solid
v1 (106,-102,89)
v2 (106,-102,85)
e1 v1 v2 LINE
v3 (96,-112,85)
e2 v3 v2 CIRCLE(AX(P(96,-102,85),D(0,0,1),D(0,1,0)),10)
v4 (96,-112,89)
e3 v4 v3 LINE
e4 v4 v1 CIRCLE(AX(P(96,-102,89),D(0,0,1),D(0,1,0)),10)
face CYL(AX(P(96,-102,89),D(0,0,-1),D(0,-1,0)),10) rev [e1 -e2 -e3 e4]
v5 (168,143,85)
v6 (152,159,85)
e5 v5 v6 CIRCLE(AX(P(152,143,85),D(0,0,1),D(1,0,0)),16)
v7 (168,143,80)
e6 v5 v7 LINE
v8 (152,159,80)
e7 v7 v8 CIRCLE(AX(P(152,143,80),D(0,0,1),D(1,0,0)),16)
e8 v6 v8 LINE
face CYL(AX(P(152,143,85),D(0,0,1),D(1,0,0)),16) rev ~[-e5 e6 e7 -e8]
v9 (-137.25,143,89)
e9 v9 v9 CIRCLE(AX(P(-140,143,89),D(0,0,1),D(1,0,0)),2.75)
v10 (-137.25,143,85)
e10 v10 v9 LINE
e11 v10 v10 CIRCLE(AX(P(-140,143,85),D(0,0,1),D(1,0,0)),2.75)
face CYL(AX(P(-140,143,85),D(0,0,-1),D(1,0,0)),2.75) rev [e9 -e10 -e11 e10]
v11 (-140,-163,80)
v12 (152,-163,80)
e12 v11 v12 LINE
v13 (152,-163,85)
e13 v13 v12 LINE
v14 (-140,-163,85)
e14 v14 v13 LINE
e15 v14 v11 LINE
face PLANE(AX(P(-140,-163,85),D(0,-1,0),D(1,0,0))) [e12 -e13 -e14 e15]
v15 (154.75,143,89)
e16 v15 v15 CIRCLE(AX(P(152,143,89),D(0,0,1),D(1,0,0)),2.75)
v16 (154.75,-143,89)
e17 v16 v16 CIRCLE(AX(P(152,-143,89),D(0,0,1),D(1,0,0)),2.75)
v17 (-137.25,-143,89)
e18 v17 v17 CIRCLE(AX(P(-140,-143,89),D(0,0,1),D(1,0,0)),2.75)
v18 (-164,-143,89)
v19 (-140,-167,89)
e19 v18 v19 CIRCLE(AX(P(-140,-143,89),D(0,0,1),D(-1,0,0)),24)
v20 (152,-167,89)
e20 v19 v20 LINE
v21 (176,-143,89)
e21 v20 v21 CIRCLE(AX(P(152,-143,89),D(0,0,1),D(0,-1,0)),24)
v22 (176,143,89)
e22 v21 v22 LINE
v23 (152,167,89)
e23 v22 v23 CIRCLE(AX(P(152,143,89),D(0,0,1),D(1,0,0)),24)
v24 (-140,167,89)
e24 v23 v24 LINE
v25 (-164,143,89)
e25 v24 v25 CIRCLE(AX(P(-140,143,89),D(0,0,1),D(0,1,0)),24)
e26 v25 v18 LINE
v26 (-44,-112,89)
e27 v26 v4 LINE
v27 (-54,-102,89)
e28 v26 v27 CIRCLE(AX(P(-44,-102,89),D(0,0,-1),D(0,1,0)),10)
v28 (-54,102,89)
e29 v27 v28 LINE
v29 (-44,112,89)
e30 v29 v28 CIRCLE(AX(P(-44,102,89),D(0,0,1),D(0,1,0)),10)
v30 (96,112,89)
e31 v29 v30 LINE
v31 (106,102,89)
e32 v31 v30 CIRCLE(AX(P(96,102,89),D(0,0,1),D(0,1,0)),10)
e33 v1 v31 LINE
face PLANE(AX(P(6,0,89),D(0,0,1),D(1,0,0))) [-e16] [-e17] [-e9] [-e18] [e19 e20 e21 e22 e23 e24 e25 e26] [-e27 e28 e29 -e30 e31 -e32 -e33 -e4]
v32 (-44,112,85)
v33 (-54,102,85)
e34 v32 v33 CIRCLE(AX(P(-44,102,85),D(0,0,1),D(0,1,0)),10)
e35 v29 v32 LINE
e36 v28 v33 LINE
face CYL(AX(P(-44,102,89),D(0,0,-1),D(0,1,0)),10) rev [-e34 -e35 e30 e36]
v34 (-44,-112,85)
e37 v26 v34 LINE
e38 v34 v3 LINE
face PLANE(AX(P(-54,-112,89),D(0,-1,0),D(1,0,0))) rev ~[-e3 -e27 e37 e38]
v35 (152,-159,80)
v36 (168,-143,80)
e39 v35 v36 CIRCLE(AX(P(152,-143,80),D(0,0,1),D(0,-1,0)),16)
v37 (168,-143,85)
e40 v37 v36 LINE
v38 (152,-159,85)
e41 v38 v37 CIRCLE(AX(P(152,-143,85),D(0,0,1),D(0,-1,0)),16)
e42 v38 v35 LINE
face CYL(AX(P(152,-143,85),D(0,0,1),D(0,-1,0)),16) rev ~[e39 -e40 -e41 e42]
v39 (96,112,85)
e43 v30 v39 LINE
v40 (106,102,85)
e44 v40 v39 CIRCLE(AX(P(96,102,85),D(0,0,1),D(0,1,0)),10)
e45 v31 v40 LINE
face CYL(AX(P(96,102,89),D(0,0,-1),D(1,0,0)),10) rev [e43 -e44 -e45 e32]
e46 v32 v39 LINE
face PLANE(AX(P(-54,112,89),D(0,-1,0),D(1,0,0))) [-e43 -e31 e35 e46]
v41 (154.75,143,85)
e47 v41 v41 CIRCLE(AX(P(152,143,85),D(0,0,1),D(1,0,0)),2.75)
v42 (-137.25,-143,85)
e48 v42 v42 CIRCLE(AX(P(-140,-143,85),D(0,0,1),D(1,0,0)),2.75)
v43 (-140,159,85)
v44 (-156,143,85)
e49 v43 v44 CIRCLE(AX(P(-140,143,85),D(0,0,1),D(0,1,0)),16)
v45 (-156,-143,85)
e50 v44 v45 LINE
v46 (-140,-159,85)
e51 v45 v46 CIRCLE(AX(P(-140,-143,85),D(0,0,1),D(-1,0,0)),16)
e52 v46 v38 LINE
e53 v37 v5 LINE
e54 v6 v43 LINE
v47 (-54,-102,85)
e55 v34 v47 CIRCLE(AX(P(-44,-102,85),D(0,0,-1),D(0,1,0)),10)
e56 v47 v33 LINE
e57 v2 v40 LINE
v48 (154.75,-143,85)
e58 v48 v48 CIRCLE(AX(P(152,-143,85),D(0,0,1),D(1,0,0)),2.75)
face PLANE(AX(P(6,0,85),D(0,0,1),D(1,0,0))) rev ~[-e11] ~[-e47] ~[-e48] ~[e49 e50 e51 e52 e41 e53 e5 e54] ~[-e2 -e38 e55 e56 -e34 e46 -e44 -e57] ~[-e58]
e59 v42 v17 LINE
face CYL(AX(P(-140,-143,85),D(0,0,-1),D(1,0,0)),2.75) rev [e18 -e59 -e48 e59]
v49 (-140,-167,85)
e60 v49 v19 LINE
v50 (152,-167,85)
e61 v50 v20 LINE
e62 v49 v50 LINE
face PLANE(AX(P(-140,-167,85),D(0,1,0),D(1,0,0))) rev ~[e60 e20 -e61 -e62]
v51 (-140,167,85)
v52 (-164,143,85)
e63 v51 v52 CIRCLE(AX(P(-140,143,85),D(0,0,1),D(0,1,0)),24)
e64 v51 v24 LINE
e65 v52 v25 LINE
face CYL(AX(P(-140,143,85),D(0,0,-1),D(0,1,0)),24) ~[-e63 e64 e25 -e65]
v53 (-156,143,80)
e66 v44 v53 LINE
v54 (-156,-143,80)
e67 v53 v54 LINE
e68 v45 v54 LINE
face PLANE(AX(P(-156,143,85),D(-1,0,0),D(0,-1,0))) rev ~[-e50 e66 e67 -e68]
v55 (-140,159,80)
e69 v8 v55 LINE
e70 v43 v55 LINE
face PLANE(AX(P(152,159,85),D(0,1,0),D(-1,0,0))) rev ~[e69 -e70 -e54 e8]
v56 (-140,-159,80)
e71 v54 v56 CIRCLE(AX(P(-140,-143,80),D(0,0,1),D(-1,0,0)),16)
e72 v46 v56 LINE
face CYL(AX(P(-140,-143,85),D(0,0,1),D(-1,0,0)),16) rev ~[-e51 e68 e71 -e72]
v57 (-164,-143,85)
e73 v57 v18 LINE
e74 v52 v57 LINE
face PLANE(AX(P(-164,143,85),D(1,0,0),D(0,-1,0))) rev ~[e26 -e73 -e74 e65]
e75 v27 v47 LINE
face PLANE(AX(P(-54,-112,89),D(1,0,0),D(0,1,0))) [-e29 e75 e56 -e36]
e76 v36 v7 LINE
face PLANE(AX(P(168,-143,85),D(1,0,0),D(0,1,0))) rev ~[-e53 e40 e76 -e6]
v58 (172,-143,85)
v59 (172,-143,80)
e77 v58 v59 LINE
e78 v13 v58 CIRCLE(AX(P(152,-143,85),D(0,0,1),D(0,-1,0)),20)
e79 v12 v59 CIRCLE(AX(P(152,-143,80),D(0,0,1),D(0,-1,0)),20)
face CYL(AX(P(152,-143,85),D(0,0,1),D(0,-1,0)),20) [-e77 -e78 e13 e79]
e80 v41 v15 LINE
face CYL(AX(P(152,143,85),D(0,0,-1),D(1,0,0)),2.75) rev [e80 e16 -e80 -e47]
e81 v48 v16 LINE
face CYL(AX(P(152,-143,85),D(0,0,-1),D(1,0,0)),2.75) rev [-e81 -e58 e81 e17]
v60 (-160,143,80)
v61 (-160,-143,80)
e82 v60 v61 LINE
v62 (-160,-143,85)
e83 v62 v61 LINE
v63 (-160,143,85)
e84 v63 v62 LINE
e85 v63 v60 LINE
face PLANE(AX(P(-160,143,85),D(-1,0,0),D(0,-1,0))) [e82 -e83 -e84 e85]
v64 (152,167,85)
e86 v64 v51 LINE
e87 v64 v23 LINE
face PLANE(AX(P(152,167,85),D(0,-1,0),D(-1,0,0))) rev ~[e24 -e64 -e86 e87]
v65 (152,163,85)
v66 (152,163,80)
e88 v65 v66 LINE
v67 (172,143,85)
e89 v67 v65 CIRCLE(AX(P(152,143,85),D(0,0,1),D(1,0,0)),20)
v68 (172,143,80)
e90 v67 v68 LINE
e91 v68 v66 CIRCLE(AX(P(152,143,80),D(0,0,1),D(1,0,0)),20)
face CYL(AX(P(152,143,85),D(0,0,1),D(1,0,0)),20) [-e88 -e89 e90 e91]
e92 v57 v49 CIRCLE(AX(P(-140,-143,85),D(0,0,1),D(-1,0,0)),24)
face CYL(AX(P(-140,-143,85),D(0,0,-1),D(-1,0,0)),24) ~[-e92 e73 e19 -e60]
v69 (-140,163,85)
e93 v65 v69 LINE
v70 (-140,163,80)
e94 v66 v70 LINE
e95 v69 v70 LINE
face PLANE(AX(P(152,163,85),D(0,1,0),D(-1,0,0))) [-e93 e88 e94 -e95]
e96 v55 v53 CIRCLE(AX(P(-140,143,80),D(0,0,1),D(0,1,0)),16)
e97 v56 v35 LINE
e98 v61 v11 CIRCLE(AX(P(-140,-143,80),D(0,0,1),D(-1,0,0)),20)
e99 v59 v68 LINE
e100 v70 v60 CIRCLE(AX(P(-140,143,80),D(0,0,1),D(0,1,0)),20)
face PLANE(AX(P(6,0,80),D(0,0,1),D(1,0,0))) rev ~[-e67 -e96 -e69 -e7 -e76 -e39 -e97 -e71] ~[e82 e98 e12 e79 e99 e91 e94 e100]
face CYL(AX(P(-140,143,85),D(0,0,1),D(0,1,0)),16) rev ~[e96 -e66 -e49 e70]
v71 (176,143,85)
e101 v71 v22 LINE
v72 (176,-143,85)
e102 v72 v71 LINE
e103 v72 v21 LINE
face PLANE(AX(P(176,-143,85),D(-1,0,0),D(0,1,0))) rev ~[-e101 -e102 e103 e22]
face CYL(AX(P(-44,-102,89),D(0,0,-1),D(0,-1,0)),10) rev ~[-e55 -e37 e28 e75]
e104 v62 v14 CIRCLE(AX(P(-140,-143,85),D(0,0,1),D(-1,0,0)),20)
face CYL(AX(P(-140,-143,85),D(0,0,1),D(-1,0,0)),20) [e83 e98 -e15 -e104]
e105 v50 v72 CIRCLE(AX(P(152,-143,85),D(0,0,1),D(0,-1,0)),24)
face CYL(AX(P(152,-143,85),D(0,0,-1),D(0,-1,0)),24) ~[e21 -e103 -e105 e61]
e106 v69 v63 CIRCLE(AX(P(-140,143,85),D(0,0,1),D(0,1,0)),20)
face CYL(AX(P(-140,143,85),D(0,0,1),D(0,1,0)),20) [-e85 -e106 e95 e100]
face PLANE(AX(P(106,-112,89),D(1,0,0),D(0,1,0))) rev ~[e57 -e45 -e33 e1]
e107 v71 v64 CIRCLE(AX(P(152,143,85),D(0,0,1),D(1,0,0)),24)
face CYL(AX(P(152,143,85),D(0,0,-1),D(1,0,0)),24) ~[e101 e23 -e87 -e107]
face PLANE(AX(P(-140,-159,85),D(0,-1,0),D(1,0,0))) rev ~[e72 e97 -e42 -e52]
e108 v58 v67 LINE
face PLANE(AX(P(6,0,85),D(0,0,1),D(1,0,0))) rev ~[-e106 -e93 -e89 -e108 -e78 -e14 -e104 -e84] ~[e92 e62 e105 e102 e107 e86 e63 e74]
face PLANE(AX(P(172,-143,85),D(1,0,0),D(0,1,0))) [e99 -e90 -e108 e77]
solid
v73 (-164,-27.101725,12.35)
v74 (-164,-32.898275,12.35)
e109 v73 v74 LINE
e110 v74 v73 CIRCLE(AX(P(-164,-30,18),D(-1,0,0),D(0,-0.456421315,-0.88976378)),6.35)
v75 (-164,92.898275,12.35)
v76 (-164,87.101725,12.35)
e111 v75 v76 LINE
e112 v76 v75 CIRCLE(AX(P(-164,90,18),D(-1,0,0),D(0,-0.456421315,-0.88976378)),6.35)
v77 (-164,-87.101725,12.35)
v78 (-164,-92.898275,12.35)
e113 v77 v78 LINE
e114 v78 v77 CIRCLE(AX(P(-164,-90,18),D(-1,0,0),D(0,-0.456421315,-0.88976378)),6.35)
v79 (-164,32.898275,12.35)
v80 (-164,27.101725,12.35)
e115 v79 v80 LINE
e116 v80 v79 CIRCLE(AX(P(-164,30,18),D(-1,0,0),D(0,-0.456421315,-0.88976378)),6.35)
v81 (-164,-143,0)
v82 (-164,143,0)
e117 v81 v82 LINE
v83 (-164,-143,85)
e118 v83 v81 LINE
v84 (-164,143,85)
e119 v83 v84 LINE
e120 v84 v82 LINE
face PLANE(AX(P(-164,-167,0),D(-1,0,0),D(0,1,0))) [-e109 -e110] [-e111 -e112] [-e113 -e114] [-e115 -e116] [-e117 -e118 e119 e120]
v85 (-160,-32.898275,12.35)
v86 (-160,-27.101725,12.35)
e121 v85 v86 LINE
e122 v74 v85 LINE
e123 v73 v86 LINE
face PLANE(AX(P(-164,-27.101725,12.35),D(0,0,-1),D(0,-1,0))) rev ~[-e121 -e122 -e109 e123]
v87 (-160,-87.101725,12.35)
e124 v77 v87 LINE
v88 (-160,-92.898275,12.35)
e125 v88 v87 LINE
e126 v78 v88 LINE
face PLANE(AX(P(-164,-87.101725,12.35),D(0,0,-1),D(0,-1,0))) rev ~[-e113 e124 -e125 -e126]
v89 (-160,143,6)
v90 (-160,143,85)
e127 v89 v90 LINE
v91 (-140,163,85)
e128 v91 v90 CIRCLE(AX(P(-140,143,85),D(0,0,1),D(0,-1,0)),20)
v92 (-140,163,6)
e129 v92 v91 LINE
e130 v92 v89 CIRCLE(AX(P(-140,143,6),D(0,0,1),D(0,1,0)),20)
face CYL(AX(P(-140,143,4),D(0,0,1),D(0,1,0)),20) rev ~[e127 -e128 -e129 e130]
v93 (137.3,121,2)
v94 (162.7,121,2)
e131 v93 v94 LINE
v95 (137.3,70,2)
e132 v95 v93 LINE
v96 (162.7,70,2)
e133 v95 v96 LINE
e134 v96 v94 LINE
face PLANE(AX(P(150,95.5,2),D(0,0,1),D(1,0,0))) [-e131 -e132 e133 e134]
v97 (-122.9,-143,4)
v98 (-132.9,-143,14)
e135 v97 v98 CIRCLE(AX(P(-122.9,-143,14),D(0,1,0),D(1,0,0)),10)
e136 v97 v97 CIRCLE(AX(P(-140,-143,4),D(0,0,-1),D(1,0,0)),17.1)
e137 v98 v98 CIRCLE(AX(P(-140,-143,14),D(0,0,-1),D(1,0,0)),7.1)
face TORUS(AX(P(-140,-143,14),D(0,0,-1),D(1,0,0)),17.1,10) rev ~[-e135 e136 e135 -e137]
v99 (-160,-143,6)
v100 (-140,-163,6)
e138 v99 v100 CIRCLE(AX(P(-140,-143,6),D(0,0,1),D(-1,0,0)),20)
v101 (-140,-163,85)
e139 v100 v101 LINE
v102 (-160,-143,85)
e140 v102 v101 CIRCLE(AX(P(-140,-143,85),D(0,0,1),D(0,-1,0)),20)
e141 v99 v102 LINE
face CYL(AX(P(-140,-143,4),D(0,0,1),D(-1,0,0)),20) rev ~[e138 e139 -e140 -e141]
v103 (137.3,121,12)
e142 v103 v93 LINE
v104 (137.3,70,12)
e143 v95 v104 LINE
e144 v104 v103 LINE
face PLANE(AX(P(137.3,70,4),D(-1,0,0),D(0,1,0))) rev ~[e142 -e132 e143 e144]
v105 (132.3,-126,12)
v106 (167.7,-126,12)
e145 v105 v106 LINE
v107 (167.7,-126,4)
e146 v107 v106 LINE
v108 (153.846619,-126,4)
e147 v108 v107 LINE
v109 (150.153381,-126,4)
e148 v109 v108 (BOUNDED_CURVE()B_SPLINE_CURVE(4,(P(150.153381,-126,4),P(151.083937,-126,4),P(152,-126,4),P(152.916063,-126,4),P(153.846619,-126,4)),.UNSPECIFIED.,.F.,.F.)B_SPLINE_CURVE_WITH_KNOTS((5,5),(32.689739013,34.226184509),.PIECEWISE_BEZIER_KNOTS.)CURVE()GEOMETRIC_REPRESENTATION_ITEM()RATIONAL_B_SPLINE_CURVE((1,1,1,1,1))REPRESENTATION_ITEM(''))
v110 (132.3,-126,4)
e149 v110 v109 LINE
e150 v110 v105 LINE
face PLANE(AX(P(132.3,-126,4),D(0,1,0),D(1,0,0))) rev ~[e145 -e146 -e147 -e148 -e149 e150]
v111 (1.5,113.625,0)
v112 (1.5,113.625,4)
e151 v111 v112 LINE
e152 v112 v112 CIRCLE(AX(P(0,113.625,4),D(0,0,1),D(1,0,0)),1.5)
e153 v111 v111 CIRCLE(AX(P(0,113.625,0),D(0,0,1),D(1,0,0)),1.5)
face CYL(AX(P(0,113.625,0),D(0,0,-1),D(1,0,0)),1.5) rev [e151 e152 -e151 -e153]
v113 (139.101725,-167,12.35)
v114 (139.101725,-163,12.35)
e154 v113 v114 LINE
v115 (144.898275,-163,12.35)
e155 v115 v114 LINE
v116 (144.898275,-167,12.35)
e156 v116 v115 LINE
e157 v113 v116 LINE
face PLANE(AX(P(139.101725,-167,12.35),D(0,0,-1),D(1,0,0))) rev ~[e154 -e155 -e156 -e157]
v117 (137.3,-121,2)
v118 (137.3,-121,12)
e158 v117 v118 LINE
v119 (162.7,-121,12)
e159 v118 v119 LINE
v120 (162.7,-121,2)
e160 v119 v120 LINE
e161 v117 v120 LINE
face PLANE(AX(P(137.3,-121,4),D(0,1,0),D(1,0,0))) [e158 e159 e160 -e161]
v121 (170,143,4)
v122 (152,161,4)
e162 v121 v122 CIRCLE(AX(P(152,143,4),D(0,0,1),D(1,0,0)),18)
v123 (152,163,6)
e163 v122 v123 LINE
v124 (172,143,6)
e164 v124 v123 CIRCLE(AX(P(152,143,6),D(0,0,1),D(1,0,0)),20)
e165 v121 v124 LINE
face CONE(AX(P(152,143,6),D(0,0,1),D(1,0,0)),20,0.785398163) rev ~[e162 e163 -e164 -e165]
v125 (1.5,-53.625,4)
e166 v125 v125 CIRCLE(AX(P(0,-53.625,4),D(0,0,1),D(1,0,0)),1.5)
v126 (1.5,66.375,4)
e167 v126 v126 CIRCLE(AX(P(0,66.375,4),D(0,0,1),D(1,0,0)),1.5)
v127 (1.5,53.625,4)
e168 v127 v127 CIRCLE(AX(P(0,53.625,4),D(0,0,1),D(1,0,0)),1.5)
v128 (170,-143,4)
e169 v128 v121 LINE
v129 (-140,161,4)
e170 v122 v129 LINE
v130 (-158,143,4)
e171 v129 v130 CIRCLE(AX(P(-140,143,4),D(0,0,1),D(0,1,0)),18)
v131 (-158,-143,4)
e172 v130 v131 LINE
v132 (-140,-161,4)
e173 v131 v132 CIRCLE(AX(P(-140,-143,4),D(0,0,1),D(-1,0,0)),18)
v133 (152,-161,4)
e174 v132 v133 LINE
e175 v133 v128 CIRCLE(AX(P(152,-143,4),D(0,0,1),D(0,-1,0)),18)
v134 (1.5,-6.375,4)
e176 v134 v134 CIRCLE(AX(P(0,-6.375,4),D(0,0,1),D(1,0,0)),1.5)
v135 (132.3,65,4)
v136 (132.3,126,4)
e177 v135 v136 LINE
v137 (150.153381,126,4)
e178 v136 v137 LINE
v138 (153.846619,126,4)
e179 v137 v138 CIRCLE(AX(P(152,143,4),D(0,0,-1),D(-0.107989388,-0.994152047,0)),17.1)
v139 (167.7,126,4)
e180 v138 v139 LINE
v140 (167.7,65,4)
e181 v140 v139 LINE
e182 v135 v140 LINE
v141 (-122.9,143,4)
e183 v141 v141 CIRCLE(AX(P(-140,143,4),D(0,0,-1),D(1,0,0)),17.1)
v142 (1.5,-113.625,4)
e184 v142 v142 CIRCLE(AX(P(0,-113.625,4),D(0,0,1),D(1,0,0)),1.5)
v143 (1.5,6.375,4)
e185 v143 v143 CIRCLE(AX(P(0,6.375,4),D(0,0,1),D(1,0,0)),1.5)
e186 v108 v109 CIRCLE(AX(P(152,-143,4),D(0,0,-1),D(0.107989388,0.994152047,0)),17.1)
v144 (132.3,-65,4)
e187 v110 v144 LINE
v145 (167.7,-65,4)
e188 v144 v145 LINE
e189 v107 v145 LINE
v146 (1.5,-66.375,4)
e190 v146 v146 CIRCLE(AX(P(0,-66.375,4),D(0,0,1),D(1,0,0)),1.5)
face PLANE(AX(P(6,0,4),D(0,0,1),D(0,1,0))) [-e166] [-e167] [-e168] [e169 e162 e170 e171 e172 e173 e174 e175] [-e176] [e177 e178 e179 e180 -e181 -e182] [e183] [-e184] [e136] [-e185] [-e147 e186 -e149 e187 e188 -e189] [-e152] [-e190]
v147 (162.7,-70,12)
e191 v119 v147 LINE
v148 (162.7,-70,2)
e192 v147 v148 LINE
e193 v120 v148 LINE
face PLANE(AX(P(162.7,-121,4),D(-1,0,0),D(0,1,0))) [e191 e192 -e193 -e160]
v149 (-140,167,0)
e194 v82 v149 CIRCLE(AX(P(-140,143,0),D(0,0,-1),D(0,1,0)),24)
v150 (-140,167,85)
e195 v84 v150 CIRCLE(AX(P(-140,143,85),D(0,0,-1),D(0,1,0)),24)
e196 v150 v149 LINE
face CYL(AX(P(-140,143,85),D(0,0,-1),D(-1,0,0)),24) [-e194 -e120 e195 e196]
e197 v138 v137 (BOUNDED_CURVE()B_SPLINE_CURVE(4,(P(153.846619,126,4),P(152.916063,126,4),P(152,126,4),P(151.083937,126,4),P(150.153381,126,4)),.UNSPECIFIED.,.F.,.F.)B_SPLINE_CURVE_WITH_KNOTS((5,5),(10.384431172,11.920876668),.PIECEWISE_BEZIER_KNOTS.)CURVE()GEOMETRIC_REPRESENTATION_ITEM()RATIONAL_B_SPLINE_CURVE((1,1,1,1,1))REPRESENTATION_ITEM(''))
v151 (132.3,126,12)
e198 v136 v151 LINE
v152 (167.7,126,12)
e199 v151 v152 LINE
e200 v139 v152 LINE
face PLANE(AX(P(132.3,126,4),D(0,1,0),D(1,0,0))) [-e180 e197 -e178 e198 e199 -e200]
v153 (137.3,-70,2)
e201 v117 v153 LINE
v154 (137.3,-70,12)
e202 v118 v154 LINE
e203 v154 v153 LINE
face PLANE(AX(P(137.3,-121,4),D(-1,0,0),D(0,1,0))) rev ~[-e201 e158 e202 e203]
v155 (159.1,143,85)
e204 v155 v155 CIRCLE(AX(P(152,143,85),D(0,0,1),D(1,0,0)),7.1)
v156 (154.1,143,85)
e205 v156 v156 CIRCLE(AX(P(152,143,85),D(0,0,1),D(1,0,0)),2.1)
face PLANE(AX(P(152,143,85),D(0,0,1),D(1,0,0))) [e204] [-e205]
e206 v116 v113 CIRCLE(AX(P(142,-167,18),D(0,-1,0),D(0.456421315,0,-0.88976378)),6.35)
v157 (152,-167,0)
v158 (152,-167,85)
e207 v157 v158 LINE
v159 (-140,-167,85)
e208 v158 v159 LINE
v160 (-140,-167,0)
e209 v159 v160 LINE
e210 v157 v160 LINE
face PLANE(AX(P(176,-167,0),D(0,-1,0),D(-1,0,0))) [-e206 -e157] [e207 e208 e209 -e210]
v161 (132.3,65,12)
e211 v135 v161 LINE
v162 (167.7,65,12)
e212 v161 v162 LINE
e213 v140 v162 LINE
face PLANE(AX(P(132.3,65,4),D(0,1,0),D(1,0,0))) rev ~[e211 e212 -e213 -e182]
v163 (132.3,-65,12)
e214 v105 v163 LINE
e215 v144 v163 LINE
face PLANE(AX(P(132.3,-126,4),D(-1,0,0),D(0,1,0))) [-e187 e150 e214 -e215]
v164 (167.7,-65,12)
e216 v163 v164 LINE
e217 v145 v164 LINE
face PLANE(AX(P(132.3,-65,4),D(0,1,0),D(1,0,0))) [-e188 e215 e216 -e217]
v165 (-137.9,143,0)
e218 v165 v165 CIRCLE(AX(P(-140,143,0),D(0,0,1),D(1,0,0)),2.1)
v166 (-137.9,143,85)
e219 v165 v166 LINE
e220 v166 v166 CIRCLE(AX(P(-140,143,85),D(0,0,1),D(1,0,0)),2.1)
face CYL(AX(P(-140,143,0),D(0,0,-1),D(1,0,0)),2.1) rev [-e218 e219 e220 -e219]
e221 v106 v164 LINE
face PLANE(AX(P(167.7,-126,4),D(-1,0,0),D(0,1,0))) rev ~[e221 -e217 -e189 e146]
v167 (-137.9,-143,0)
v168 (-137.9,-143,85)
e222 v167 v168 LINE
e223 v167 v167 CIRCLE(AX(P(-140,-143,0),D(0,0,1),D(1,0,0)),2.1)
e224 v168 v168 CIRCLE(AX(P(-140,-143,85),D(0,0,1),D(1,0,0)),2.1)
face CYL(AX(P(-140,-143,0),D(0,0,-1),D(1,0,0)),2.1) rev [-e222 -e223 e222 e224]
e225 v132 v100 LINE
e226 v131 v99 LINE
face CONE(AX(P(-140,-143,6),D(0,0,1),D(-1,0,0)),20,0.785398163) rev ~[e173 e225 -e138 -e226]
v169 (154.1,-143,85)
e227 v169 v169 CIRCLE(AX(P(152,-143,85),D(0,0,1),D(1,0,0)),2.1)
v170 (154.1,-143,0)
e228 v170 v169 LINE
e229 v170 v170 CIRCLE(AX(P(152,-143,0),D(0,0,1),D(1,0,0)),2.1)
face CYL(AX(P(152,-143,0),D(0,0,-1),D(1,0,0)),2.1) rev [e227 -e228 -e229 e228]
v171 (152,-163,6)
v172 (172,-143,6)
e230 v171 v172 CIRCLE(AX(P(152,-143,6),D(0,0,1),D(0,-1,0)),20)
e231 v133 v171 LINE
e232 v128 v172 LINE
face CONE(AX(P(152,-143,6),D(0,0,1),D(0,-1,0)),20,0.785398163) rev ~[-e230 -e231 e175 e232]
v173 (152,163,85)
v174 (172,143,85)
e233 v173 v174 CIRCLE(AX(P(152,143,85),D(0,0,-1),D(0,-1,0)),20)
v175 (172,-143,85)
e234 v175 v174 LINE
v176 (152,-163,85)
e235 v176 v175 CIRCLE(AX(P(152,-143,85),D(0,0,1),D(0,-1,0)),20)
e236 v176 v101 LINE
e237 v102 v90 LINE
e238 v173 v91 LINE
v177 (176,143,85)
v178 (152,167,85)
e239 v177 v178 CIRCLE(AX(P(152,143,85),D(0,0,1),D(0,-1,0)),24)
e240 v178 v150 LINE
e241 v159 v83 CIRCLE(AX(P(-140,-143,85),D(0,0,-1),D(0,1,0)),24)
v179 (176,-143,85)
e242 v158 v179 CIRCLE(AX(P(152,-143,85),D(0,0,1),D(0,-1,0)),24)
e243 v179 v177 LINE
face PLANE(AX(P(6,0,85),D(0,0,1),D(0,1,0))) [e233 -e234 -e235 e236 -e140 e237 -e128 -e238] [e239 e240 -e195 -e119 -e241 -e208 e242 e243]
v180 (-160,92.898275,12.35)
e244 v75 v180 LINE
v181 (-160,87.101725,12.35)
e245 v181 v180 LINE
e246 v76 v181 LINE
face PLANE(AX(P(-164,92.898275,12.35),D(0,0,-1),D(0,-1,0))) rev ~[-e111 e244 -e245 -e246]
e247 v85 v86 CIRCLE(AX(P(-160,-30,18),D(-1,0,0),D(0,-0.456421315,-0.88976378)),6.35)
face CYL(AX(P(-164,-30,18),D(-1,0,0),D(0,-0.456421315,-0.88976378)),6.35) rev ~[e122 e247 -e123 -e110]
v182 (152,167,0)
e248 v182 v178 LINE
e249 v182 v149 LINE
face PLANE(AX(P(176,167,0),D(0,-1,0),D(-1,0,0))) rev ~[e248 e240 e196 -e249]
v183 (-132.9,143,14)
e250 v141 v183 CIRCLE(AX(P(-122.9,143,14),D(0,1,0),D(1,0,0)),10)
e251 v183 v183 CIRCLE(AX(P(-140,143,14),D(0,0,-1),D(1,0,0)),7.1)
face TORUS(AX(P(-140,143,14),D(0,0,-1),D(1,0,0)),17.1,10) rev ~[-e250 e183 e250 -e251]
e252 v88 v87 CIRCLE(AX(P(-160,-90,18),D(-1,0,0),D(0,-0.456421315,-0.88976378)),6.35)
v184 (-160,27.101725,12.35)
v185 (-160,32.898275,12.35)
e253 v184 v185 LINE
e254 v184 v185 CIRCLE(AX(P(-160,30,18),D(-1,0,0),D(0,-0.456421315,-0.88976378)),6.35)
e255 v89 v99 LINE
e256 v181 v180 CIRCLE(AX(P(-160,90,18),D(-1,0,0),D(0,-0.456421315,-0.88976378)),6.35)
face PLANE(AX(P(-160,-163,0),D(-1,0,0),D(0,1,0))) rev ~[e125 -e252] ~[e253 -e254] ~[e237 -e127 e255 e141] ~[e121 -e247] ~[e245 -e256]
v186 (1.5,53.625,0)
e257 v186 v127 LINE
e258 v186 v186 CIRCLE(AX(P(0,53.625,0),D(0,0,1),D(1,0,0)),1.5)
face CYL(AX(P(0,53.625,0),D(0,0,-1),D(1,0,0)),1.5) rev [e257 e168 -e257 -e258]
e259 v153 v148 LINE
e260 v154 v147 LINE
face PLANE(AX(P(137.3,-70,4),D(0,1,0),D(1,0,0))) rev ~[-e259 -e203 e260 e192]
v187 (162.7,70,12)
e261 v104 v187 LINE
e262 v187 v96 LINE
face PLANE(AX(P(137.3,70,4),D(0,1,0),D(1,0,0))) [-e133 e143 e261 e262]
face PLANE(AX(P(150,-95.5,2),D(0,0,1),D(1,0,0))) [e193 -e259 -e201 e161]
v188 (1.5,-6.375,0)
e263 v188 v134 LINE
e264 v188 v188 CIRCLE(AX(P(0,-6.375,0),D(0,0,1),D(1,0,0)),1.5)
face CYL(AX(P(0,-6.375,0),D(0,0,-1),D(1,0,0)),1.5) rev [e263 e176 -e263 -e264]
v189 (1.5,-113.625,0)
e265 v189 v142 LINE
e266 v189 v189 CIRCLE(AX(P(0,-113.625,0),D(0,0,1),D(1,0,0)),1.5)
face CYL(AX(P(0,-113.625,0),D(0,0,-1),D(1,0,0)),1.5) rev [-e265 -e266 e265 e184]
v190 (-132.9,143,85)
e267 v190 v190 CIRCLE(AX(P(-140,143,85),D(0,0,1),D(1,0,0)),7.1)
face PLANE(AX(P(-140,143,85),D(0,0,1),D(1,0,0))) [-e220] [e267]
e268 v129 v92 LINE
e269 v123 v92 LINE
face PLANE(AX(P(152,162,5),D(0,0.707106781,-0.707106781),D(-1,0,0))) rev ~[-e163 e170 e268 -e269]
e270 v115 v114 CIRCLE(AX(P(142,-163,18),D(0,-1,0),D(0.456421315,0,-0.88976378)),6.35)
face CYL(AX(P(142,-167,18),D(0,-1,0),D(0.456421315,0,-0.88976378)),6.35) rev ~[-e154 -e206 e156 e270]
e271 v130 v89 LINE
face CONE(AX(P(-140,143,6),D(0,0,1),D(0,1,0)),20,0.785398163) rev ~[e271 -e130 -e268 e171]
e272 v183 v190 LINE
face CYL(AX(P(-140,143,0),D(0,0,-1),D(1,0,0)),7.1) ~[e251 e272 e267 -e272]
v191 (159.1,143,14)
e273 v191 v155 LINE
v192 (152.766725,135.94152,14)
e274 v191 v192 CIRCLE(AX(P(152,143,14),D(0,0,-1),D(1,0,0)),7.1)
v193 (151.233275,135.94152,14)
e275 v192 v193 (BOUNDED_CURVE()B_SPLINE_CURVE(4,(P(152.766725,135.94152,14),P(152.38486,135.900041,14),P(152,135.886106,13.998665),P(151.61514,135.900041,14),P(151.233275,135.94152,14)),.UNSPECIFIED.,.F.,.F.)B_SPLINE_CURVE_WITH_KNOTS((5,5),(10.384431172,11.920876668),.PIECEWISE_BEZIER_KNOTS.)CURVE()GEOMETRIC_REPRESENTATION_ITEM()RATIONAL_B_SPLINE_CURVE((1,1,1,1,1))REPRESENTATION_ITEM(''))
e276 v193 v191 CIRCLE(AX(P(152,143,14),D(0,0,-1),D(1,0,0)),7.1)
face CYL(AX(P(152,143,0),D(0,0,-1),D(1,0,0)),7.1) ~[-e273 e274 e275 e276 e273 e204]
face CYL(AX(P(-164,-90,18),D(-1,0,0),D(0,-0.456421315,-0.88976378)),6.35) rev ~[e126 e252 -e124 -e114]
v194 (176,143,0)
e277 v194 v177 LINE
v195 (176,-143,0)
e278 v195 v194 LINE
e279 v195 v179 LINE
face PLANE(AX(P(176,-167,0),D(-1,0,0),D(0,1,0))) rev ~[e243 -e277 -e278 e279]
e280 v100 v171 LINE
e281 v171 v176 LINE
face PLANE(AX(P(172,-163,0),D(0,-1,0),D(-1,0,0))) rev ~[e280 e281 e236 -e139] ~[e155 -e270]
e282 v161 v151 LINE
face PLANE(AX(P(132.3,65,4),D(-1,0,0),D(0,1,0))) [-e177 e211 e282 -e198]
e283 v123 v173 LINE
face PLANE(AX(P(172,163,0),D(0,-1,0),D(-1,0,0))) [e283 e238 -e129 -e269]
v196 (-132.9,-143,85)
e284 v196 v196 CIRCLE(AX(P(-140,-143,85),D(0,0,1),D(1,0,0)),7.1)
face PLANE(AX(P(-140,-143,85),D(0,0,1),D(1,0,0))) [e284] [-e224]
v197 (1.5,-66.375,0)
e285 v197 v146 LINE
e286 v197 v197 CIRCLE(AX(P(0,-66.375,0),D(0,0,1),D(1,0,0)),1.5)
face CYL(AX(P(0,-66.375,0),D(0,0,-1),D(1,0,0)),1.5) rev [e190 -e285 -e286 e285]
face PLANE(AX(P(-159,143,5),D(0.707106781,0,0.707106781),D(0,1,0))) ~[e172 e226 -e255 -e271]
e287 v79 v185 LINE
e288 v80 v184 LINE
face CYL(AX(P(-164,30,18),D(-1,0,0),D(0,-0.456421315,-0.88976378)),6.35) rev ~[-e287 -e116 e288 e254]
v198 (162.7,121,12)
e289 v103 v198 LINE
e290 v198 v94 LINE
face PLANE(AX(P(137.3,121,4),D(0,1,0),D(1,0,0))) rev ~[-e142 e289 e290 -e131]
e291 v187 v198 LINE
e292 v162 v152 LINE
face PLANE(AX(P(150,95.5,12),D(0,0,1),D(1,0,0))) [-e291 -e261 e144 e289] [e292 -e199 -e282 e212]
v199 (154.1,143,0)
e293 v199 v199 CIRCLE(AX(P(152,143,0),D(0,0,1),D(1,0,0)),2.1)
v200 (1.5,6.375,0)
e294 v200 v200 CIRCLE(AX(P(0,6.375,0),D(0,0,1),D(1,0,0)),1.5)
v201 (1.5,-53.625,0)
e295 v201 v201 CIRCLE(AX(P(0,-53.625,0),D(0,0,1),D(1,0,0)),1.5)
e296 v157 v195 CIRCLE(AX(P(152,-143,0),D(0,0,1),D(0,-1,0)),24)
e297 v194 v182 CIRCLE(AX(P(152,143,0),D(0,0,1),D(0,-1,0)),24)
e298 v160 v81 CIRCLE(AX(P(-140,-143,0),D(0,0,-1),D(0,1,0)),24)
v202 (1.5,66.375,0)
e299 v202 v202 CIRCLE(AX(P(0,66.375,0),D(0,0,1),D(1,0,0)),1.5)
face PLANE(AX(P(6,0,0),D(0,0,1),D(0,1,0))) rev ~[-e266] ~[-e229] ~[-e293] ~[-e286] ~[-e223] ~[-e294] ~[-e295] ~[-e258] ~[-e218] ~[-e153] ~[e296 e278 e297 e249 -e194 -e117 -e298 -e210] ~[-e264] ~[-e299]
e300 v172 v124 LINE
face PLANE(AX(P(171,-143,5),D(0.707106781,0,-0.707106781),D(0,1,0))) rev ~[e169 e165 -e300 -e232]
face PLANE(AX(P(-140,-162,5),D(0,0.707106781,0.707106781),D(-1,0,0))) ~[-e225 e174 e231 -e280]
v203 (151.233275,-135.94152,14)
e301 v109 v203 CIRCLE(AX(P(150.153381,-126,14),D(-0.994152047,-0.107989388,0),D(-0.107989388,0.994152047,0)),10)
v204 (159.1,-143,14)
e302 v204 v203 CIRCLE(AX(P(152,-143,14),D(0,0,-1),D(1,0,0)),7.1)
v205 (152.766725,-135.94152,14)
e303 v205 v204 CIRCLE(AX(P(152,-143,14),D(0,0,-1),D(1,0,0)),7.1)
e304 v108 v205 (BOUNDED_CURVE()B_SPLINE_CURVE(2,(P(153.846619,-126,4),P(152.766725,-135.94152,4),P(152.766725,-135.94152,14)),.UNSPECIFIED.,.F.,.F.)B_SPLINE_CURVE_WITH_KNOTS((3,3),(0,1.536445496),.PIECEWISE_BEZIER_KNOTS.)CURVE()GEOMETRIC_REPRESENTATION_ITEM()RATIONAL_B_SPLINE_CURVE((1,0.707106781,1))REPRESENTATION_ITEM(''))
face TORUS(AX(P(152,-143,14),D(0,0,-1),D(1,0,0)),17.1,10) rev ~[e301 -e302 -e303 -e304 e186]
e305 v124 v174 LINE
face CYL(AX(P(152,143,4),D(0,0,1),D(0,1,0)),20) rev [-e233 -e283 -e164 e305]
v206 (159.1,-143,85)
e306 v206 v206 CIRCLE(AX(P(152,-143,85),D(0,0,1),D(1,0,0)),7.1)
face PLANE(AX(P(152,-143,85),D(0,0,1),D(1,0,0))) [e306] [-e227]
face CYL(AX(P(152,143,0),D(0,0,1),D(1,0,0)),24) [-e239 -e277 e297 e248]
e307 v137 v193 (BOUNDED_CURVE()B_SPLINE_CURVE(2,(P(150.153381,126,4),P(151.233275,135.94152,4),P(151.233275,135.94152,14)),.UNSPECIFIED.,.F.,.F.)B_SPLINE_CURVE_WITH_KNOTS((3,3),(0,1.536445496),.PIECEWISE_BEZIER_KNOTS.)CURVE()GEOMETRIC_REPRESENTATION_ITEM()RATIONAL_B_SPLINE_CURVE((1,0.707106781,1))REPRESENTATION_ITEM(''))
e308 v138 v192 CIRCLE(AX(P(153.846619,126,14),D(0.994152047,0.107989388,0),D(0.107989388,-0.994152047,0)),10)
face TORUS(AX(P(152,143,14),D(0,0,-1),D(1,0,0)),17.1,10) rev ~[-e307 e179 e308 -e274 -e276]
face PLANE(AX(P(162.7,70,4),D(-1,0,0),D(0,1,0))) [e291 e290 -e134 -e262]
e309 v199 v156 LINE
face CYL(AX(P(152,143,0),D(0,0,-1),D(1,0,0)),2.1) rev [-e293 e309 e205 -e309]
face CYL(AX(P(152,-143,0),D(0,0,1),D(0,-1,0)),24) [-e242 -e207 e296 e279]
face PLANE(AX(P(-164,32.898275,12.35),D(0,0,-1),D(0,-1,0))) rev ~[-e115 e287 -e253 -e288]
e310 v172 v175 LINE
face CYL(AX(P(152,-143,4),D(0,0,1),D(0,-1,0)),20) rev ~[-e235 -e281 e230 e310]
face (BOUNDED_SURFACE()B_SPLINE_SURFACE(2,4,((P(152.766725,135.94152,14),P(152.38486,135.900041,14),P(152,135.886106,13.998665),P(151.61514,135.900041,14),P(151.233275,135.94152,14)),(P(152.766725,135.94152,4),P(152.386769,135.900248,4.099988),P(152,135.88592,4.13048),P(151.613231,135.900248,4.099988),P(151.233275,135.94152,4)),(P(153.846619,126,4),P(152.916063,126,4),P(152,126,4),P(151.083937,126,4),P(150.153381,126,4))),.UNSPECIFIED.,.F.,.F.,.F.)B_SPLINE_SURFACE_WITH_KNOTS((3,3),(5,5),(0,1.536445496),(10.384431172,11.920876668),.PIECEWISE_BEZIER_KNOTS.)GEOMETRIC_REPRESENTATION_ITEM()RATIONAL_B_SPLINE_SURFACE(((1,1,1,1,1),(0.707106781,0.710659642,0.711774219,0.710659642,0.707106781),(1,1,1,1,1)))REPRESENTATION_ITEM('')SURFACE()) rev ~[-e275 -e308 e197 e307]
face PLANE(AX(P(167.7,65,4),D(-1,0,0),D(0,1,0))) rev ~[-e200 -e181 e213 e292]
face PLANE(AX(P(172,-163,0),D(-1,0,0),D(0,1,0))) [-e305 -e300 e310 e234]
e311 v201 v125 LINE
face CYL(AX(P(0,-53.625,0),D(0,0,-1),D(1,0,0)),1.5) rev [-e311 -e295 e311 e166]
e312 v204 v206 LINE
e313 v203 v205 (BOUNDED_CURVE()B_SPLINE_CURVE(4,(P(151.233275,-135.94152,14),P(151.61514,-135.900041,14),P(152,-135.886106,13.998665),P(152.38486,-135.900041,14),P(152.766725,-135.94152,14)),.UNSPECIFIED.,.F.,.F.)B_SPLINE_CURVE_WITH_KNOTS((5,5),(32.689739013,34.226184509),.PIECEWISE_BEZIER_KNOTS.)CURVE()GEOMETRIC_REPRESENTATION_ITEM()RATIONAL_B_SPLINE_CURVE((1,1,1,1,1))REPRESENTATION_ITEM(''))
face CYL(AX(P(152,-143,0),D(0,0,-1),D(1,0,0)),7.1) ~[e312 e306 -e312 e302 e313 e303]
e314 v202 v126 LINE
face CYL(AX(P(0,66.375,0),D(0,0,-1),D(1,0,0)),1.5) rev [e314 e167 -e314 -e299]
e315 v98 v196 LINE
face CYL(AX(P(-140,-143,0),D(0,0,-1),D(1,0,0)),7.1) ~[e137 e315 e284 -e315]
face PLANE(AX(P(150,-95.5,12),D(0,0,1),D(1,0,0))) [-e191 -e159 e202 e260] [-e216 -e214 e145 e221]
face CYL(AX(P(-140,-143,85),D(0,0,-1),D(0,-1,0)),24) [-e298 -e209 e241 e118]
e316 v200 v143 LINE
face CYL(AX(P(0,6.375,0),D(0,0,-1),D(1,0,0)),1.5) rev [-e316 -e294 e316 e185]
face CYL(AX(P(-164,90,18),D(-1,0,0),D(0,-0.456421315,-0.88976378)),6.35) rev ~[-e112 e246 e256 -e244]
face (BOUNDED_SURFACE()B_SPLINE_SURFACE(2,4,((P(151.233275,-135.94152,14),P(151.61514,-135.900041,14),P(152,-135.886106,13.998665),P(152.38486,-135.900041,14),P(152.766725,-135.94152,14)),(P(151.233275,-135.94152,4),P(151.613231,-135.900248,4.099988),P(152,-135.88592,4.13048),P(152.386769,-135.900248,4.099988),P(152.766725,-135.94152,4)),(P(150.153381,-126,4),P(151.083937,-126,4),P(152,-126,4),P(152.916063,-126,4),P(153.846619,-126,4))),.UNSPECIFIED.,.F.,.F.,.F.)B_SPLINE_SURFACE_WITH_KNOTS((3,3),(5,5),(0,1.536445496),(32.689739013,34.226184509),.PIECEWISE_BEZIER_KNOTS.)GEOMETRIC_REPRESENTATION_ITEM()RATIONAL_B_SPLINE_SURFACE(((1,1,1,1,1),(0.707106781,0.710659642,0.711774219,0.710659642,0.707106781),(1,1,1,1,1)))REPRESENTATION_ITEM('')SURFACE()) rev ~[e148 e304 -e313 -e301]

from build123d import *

# Parameters (mm, degrees)
SKETCH1_W           = 334
SKETCH1_H           = 340
SKETCH1_R           = 1.5
SKETCH1_R_2         = 2.1
BOSS_EXTRUDE1_DEPTH = 4
SKETCH1_3_W         = 334
SKETCH1_3_H         = 340
SKETCH1_3_W_2       = 326
SKETCH1_3_H_2       = 332
BOSS_EXTRUDE2_DEPTH = 85
FILLET1_R           = 20
FILLET2_R           = 24
SKETCH1_4_R         = 7.1
SKETCH1_4_R_2       = 2.1
BOSS_EXTRUDE3_DEPTH = 85
CUT_EXTRUDE1_REACH  = 390.219
CUT_EXTRUDE2_REACH  = 388.984
SKETCH4_W           = 35.4
SKETCH4_H           = 61
SKETCH4_W_2         = 25.4
SKETCH4_H_2         = 51
BOSS_EXTRUDE4_DEPTH = 8
CHAMFER1_SIZE       = 2
FILLET3_R           = 10
SKETCH5_W           = 25.4
SKETCH5_H           = 51
CUT_EXTRUDE3_DEPTH  = 2
SKETCH6_R           = 2.75
BOSS_EXTRUDE5_DEPTH = 4
SKETCH7_W           = 160
SKETCH7_H           = 224
CUT_EXTRUDE4_DEPTH  = 4
BOSS_EXTRUDE6_DEPTH = 5
FILLET4_R           = 10


with BuildPart() as part:
    # Sketch1 → Boss-Extrude1 (new body)
    with BuildSketch(Plane(origin=(0, 0, 0), x_dir=(0, 1, 0), z_dir=(0, 0, 1))):
        with Locations((0, -6)):
            Rectangle(SKETCH1_W, SKETCH1_H)
        with Locations(Location((-113.625, 0, 0), (0, 0, 270))):
            Circle(SKETCH1_R, mode=Mode.SUBTRACT)
        with Locations(Location((-66.375, 0, 0), (0, 0, 270))):
            Circle(SKETCH1_R, mode=Mode.SUBTRACT)
        with Locations(Location((-53.625, 0, 0), (0, 0, 270))):
            Circle(SKETCH1_R, mode=Mode.SUBTRACT)
        with Locations(Location((-6.375, 0, 0), (0, 0, 270))):
            Circle(SKETCH1_R, mode=Mode.SUBTRACT)
        with Locations(Location((6.375, 0, 0), (0, 0, 270))):
            Circle(SKETCH1_R, mode=Mode.SUBTRACT)
        with Locations(Location((53.625, 0, 0), (0, 0, 270))):
            Circle(SKETCH1_R, mode=Mode.SUBTRACT)
        with Locations(Location((66.375, 0, 0), (0, 0, 270))):
            Circle(SKETCH1_R, mode=Mode.SUBTRACT)
        with Locations(Location((113.625, 0, 0), (0, 0, 270))):
            Circle(SKETCH1_R, mode=Mode.SUBTRACT)
        with Locations(Location((143, -152, 0), (0, 0, 270))):
            Circle(SKETCH1_R_2, mode=Mode.SUBTRACT)
        with Locations(Location((-143, -152, 0), (0, 0, 270))):
            Circle(SKETCH1_R_2, mode=Mode.SUBTRACT)
        with Locations(Location((-143, 140, 0), (0, 0, 270))):
            Circle(SKETCH1_R_2, mode=Mode.SUBTRACT)
        with Locations(Location((143, 140, 0), (0, 0, 270))):
            Circle(SKETCH1_R_2, mode=Mode.SUBTRACT)
    extrude(amount=BOSS_EXTRUDE1_DEPTH)

    # Sketch1<3> → Boss-Extrude2 (add)
    with BuildSketch(Plane(origin=(0, 0, 0), x_dir=(0, 1, 0), z_dir=(0, 0, 1))):
        with Locations((0, -6)):
            Rectangle(SKETCH1_3_W, SKETCH1_3_H)
        with Locations((0, -6)):
            Rectangle(SKETCH1_3_W_2, SKETCH1_3_H_2, mode=Mode.SUBTRACT)
    extrude(amount=BOSS_EXTRUDE2_DEPTH)

    # Fillet1
    fillet1_edges = [part.edges().sort_by_distance(p)[0] for p in [
        (-160, -163, 44.5),
        (-160, 163, 44.5),
        (172, 163, 44.5),
        (172, -163, 44.5),
    ]]
    fillet(fillet1_edges, radius=FILLET1_R)

    # Fillet2
    fillet2_edges = [part.edges().sort_by_distance(p)[0] for p in [
        (-164, 167, 42.5),
        (176, 167, 42.5),
        (176, -167, 42.5),
        (-164, -167, 42.5),
    ]]
    fillet(fillet2_edges, radius=FILLET2_R)

    # Sketch1<4> → Boss-Extrude3 (add)
    with BuildSketch(Plane(origin=(0, 0, 0), x_dir=(0, 1, 0), z_dir=(0, 0, 1))):
        with Locations(Location((143, -152, 0), (0, 0, 270))):
            Circle(SKETCH1_4_R)
        with Locations(Location((143, -152, 0), (0, 0, 270))):
            Circle(SKETCH1_4_R_2, mode=Mode.SUBTRACT)
        with Locations(Location((-143, -152, 0), (0, 0, 270))):
            Circle(SKETCH1_4_R)
        with Locations(Location((-143, -152, 0), (0, 0, 270))):
            Circle(SKETCH1_4_R_2, mode=Mode.SUBTRACT)
        with Locations(Location((-143, 140, 0), (0, 0, 270))):
            Circle(SKETCH1_4_R)
        with Locations(Location((-143, 140, 0), (0, 0, 270))):
            Circle(SKETCH1_4_R_2, mode=Mode.SUBTRACT)
        with Locations(Location((143, 140, 0), (0, 0, 270))):
            Circle(SKETCH1_4_R)
        with Locations(Location((143, 140, 0), (0, 0, 270))):
            Circle(SKETCH1_4_R_2, mode=Mode.SUBTRACT)
    extrude(amount=BOSS_EXTRUDE3_DEPTH)

    # Sketch2 → Cut-Extrude1 (cut, up to next)
    with BuildSketch(Plane(origin=(-164, 0, 0), x_dir=(0, -1, 0), z_dir=(-1, 0, 0)), mode=Mode.PRIVATE) as cut_extrude1_sk1:
        with BuildLine():
            Line((-92.898275349, 12.35), (-87.101724651, 12.35))
            ThreePointArc((-87.101724651, 12.35), (-90, 24.35), (-92.898275349, 12.35))
        make_face()
    cut_extrude1_tool1 = extrude(cut_extrude1_sk1.sketch, amount=-CUT_EXTRUDE1_REACH, mode=Mode.PRIVATE) & part.part
    # Sketch2 → Cut-Extrude1 (cut, up to next)
    with BuildSketch(Plane(origin=(-164, 0, 0), x_dir=(0, -1, 0), z_dir=(-1, 0, 0)), mode=Mode.PRIVATE) as cut_extrude1_sk2:
        with BuildLine():
            Line((-32.898275349, 12.35), (-27.101724651, 12.35))
            ThreePointArc((-27.101724651, 12.35), (-30, 24.35), (-32.898275349, 12.35))
        make_face()
    cut_extrude1_tool2 = extrude(cut_extrude1_sk2.sketch, amount=-CUT_EXTRUDE1_REACH, mode=Mode.PRIVATE) & part.part
    # Sketch2 → Cut-Extrude1 (cut, up to next)
    with BuildSketch(Plane(origin=(-164, 0, 0), x_dir=(0, -1, 0), z_dir=(-1, 0, 0)), mode=Mode.PRIVATE) as cut_extrude1_sk3:
        with BuildLine():
            Line((27.101724651, 12.35), (32.898275349, 12.35))
            ThreePointArc((32.898275349, 12.35), (30, 24.35), (27.101724651, 12.35))
        make_face()
    cut_extrude1_tool3 = extrude(cut_extrude1_sk3.sketch, amount=-CUT_EXTRUDE1_REACH, mode=Mode.PRIVATE) & part.part
    # Sketch2 → Cut-Extrude1 (cut, up to next)
    with BuildSketch(Plane(origin=(-164, 0, 0), x_dir=(0, -1, 0), z_dir=(-1, 0, 0)), mode=Mode.PRIVATE) as cut_extrude1_sk4:
        with BuildLine():
            Line((87.101724651, 12.35), (92.898275349, 12.35))
            ThreePointArc((92.898275349, 12.35), (90, 24.35), (87.101724651, 12.35))
        make_face()
    cut_extrude1_tool4 = extrude(cut_extrude1_sk4.sketch, amount=-CUT_EXTRUDE1_REACH, mode=Mode.PRIVATE) & part.part
    add(cut_extrude1_tool1.solids().sort_by_distance((-164, 90, 18.130953))[0], mode=Mode.SUBTRACT)
    add(cut_extrude1_tool2.solids().sort_by_distance((-164, 30, 18.130953))[0], mode=Mode.SUBTRACT)
    add(cut_extrude1_tool3.solids().sort_by_distance((-164, -30, 18.130953))[0], mode=Mode.SUBTRACT)
    add(cut_extrude1_tool4.solids().sort_by_distance((-164, -90, 18.130953))[0], mode=Mode.SUBTRACT)

    # Sketch3 → Cut-Extrude2 (cut, up to next)
    with BuildSketch(Plane.XZ.offset(167), mode=Mode.PRIVATE) as cut_extrude2_sk1:
        with BuildLine():
            Line((139.101724651, 12.35), (144.898275349, 12.35))
            ThreePointArc((144.898275349, 12.35), (142, 24.35), (139.101724651, 12.35))
        make_face()
    cut_extrude2_tool1 = extrude(cut_extrude2_sk1.sketch, amount=-CUT_EXTRUDE2_REACH, mode=Mode.PRIVATE) & part.part
    add(cut_extrude2_tool1.solids().sort_by_distance((142, -167, 18.130953))[0], mode=Mode.SUBTRACT)

    # Sketch4 → Boss-Extrude4 (add)
    with BuildSketch(Plane.XY.offset(4)):
        with Locations((150, 95.5)):
            Rectangle(SKETCH4_W, SKETCH4_H)
        with Locations((150, 95.5)):
            Rectangle(SKETCH4_W_2, SKETCH4_H_2, mode=Mode.SUBTRACT)
        with Locations((150, -95.5)):
            Rectangle(SKETCH4_W, SKETCH4_H)
        with Locations((150, -95.5)):
            Rectangle(SKETCH4_W_2, SKETCH4_H_2, mode=Mode.SUBTRACT)
    extrude(amount=BOSS_EXTRUDE4_DEPTH)

    # Chamfer1
    chamfer1_edges = [part.edges().sort_by_distance(p)[0] for p in [
        (-160, 0, 4),
        (6, 163, 4),
        (6, -163, 4),
        (172, 0, 4),
        (-154.142135624, 157.142135624, 4),
        (166.142135624, 157.142135624, 4),
        (166.142135624, -157.142135624, 4),
        (-154.142135624, -157.142135624, 4),
    ]]
    chamfer(chamfer1_edges, length=CHAMFER1_SIZE)

    # Fillet3
    fillet3_edges = [part.edges().sort_by_distance(p)[0] for p in [
        (-147.1, 143, 4),
        (-147.1, -143, 4),
        (144.9, -143, 4),
        (144.9, 143, 4),
    ]]
    fillet(fillet3_edges, radius=FILLET3_R)

    # Sketch5 → Cut-Extrude3 (cut)
    with BuildSketch(Plane.XY.offset(4)):
        with Locations((150, -95.5)):
            Rectangle(SKETCH5_W, SKETCH5_H)
        with Locations((150, 95.5)):
            Rectangle(SKETCH5_W, SKETCH5_H)
    extrude(amount=-CUT_EXTRUDE3_DEPTH, mode=Mode.SUBTRACT)


with BuildPart() as body_2:
    # Sketch6 → Boss-Extrude5 (new body)
    with BuildSketch(Plane.XY.offset(85)):
        with BuildLine():
            ThreePointArc((-140, 167), (-156.970562748, 159.970562748), (-164, 143))
            Line((-164, 143), (-164, -143))
            ThreePointArc((-164, -143), (-156.970562748, -159.970562748), (-140, -167))
            Line((-140, -167), (152, -167))
            ThreePointArc((152, -167), (168.970562748, -159.970562748), (176, -143))
            Line((176, -143), (176, 143))
            ThreePointArc((176, 143), (168.970562748, 159.970562748), (152, 167))
            Line((152, 167), (-140, 167))
        make_face()
        with BuildLine():
            ThreePointArc((172, -143), (166.142135624, -157.142135624), (152, -163))
            Line((152, -163), (-140, -163))
            ThreePointArc((-140, -163), (-154.142135624, -157.142135624), (-160, -143))
            Line((-160, -143), (-160, 143))
            ThreePointArc((-160, 143), (-154.142135624, 157.142135624), (-140, 163))
            Line((-140, 163), (152, 163))
            ThreePointArc((152, 163), (166.142135624, 157.142135624), (172, 143))
            Line((172, 143), (172, -143))
        make_face(mode=Mode.SUBTRACT)
        with BuildLine():
            Line((152, -163), (-140, -163))
            ThreePointArc((-140, -163), (-154.142135624, -157.142135624), (-160, -143))
            Line((-160, -143), (-160, 143))
            ThreePointArc((-160, 143), (-154.142135624, 157.142135624), (-140, 163))
            Line((-140, 163), (152, 163))
            ThreePointArc((152, 163), (166.142135624, 157.142135624), (172, 143))
            Line((172, 143), (172, -143))
            ThreePointArc((172, -143), (166.142135624, -157.142135624), (152, -163))
        make_face()
        with BuildLine():
            ThreePointArc((152, -159), (163.313708499, -154.313708499), (168, -143))
            Line((168, -143), (168, 143))
            ThreePointArc((168, 143), (163.313708499, 154.313708499), (152, 159))
            Line((152, 159), (-140, 159))
            ThreePointArc((-140, 159), (-151.313708499, 154.313708499), (-156, 143))
            Line((-156, 143), (-156, -143))
            ThreePointArc((-156, -143), (-151.313708499, -154.313708499), (-140, -159))
            Line((-140, -159), (152, -159))
        make_face(mode=Mode.SUBTRACT)
        with BuildLine():
            Line((-140, -159), (152, -159))
            ThreePointArc((152, -159), (163.313708499, -154.313708499), (168, -143))
            Line((168, -143), (168, 143))
            ThreePointArc((168, 143), (163.313708499, 154.313708499), (152, 159))
            Line((152, 159), (-140, 159))
            ThreePointArc((-140, 159), (-151.313708499, 154.313708499), (-156, 143))
            Line((-156, 143), (-156, -143))
            ThreePointArc((-156, -143), (-151.313708499, -154.313708499), (-140, -159))
        make_face()
        with Locations((152, 143)):
            Circle(SKETCH6_R, mode=Mode.SUBTRACT)
        with Locations((152, -143)):
            Circle(SKETCH6_R, mode=Mode.SUBTRACT)
        with Locations((-140, -143)):
            Circle(SKETCH6_R, mode=Mode.SUBTRACT)
        with Locations((-140, 143)):
            Circle(SKETCH6_R, mode=Mode.SUBTRACT)
    extrude(amount=BOSS_EXTRUDE5_DEPTH)

    # Sketch7 → Cut-Extrude4 (cut)
    with BuildSketch(Plane.XY.offset(89)):
        with Locations((26, 0)):
            Rectangle(SKETCH7_W, SKETCH7_H)
    extrude(amount=-CUT_EXTRUDE4_DEPTH, mode=Mode.SUBTRACT)

    # Sketch6<3> → Boss-Extrude6 (add)
    with BuildSketch(Plane.XY.offset(85)):
        with BuildLine():
            Line((-140, -163), (152, -163))
            ThreePointArc((152, -163), (166.142135624, -157.142135624), (172, -143))
            Line((172, -143), (172, 143))
            ThreePointArc((172, 143), (166.142135624, 157.142135624), (152, 163))
            Line((152, 163), (-140, 163))
            ThreePointArc((-140, 163), (-154.142135624, 157.142135624), (-160, 143))
            Line((-160, 143), (-160, -143))
            ThreePointArc((-160, -143), (-154.142135624, -157.142135624), (-140, -163))
        make_face()
        with BuildLine():
            Line((168, -143), (168, 143))
            ThreePointArc((168, 143), (163.313708499, 154.313708499), (152, 159))
            Line((152, 159), (-140, 159))
            ThreePointArc((-140, 159), (-151.313708499, 154.313708499), (-156, 143))
            Line((-156, 143), (-156, -143))
            ThreePointArc((-156, -143), (-151.313708499, -154.313708499), (-140, -159))
            Line((-140, -159), (152, -159))
            ThreePointArc((152, -159), (163.313708499, -154.313708499), (168, -143))
        make_face(mode=Mode.SUBTRACT)
    extrude(amount=-BOSS_EXTRUDE6_DEPTH)

    # Fillet4
    fillet4_edges = [body_2.edges().sort_by_distance(p)[0] for p in [
        (106, 112, 87),
        (106, -112, 87),
        (-54, -112, 87),
        (-54, 112, 87),
    ]]
    fillet(fillet4_edges, radius=FILLET4_R)


solid = Compound([part.part, body_2.part])
